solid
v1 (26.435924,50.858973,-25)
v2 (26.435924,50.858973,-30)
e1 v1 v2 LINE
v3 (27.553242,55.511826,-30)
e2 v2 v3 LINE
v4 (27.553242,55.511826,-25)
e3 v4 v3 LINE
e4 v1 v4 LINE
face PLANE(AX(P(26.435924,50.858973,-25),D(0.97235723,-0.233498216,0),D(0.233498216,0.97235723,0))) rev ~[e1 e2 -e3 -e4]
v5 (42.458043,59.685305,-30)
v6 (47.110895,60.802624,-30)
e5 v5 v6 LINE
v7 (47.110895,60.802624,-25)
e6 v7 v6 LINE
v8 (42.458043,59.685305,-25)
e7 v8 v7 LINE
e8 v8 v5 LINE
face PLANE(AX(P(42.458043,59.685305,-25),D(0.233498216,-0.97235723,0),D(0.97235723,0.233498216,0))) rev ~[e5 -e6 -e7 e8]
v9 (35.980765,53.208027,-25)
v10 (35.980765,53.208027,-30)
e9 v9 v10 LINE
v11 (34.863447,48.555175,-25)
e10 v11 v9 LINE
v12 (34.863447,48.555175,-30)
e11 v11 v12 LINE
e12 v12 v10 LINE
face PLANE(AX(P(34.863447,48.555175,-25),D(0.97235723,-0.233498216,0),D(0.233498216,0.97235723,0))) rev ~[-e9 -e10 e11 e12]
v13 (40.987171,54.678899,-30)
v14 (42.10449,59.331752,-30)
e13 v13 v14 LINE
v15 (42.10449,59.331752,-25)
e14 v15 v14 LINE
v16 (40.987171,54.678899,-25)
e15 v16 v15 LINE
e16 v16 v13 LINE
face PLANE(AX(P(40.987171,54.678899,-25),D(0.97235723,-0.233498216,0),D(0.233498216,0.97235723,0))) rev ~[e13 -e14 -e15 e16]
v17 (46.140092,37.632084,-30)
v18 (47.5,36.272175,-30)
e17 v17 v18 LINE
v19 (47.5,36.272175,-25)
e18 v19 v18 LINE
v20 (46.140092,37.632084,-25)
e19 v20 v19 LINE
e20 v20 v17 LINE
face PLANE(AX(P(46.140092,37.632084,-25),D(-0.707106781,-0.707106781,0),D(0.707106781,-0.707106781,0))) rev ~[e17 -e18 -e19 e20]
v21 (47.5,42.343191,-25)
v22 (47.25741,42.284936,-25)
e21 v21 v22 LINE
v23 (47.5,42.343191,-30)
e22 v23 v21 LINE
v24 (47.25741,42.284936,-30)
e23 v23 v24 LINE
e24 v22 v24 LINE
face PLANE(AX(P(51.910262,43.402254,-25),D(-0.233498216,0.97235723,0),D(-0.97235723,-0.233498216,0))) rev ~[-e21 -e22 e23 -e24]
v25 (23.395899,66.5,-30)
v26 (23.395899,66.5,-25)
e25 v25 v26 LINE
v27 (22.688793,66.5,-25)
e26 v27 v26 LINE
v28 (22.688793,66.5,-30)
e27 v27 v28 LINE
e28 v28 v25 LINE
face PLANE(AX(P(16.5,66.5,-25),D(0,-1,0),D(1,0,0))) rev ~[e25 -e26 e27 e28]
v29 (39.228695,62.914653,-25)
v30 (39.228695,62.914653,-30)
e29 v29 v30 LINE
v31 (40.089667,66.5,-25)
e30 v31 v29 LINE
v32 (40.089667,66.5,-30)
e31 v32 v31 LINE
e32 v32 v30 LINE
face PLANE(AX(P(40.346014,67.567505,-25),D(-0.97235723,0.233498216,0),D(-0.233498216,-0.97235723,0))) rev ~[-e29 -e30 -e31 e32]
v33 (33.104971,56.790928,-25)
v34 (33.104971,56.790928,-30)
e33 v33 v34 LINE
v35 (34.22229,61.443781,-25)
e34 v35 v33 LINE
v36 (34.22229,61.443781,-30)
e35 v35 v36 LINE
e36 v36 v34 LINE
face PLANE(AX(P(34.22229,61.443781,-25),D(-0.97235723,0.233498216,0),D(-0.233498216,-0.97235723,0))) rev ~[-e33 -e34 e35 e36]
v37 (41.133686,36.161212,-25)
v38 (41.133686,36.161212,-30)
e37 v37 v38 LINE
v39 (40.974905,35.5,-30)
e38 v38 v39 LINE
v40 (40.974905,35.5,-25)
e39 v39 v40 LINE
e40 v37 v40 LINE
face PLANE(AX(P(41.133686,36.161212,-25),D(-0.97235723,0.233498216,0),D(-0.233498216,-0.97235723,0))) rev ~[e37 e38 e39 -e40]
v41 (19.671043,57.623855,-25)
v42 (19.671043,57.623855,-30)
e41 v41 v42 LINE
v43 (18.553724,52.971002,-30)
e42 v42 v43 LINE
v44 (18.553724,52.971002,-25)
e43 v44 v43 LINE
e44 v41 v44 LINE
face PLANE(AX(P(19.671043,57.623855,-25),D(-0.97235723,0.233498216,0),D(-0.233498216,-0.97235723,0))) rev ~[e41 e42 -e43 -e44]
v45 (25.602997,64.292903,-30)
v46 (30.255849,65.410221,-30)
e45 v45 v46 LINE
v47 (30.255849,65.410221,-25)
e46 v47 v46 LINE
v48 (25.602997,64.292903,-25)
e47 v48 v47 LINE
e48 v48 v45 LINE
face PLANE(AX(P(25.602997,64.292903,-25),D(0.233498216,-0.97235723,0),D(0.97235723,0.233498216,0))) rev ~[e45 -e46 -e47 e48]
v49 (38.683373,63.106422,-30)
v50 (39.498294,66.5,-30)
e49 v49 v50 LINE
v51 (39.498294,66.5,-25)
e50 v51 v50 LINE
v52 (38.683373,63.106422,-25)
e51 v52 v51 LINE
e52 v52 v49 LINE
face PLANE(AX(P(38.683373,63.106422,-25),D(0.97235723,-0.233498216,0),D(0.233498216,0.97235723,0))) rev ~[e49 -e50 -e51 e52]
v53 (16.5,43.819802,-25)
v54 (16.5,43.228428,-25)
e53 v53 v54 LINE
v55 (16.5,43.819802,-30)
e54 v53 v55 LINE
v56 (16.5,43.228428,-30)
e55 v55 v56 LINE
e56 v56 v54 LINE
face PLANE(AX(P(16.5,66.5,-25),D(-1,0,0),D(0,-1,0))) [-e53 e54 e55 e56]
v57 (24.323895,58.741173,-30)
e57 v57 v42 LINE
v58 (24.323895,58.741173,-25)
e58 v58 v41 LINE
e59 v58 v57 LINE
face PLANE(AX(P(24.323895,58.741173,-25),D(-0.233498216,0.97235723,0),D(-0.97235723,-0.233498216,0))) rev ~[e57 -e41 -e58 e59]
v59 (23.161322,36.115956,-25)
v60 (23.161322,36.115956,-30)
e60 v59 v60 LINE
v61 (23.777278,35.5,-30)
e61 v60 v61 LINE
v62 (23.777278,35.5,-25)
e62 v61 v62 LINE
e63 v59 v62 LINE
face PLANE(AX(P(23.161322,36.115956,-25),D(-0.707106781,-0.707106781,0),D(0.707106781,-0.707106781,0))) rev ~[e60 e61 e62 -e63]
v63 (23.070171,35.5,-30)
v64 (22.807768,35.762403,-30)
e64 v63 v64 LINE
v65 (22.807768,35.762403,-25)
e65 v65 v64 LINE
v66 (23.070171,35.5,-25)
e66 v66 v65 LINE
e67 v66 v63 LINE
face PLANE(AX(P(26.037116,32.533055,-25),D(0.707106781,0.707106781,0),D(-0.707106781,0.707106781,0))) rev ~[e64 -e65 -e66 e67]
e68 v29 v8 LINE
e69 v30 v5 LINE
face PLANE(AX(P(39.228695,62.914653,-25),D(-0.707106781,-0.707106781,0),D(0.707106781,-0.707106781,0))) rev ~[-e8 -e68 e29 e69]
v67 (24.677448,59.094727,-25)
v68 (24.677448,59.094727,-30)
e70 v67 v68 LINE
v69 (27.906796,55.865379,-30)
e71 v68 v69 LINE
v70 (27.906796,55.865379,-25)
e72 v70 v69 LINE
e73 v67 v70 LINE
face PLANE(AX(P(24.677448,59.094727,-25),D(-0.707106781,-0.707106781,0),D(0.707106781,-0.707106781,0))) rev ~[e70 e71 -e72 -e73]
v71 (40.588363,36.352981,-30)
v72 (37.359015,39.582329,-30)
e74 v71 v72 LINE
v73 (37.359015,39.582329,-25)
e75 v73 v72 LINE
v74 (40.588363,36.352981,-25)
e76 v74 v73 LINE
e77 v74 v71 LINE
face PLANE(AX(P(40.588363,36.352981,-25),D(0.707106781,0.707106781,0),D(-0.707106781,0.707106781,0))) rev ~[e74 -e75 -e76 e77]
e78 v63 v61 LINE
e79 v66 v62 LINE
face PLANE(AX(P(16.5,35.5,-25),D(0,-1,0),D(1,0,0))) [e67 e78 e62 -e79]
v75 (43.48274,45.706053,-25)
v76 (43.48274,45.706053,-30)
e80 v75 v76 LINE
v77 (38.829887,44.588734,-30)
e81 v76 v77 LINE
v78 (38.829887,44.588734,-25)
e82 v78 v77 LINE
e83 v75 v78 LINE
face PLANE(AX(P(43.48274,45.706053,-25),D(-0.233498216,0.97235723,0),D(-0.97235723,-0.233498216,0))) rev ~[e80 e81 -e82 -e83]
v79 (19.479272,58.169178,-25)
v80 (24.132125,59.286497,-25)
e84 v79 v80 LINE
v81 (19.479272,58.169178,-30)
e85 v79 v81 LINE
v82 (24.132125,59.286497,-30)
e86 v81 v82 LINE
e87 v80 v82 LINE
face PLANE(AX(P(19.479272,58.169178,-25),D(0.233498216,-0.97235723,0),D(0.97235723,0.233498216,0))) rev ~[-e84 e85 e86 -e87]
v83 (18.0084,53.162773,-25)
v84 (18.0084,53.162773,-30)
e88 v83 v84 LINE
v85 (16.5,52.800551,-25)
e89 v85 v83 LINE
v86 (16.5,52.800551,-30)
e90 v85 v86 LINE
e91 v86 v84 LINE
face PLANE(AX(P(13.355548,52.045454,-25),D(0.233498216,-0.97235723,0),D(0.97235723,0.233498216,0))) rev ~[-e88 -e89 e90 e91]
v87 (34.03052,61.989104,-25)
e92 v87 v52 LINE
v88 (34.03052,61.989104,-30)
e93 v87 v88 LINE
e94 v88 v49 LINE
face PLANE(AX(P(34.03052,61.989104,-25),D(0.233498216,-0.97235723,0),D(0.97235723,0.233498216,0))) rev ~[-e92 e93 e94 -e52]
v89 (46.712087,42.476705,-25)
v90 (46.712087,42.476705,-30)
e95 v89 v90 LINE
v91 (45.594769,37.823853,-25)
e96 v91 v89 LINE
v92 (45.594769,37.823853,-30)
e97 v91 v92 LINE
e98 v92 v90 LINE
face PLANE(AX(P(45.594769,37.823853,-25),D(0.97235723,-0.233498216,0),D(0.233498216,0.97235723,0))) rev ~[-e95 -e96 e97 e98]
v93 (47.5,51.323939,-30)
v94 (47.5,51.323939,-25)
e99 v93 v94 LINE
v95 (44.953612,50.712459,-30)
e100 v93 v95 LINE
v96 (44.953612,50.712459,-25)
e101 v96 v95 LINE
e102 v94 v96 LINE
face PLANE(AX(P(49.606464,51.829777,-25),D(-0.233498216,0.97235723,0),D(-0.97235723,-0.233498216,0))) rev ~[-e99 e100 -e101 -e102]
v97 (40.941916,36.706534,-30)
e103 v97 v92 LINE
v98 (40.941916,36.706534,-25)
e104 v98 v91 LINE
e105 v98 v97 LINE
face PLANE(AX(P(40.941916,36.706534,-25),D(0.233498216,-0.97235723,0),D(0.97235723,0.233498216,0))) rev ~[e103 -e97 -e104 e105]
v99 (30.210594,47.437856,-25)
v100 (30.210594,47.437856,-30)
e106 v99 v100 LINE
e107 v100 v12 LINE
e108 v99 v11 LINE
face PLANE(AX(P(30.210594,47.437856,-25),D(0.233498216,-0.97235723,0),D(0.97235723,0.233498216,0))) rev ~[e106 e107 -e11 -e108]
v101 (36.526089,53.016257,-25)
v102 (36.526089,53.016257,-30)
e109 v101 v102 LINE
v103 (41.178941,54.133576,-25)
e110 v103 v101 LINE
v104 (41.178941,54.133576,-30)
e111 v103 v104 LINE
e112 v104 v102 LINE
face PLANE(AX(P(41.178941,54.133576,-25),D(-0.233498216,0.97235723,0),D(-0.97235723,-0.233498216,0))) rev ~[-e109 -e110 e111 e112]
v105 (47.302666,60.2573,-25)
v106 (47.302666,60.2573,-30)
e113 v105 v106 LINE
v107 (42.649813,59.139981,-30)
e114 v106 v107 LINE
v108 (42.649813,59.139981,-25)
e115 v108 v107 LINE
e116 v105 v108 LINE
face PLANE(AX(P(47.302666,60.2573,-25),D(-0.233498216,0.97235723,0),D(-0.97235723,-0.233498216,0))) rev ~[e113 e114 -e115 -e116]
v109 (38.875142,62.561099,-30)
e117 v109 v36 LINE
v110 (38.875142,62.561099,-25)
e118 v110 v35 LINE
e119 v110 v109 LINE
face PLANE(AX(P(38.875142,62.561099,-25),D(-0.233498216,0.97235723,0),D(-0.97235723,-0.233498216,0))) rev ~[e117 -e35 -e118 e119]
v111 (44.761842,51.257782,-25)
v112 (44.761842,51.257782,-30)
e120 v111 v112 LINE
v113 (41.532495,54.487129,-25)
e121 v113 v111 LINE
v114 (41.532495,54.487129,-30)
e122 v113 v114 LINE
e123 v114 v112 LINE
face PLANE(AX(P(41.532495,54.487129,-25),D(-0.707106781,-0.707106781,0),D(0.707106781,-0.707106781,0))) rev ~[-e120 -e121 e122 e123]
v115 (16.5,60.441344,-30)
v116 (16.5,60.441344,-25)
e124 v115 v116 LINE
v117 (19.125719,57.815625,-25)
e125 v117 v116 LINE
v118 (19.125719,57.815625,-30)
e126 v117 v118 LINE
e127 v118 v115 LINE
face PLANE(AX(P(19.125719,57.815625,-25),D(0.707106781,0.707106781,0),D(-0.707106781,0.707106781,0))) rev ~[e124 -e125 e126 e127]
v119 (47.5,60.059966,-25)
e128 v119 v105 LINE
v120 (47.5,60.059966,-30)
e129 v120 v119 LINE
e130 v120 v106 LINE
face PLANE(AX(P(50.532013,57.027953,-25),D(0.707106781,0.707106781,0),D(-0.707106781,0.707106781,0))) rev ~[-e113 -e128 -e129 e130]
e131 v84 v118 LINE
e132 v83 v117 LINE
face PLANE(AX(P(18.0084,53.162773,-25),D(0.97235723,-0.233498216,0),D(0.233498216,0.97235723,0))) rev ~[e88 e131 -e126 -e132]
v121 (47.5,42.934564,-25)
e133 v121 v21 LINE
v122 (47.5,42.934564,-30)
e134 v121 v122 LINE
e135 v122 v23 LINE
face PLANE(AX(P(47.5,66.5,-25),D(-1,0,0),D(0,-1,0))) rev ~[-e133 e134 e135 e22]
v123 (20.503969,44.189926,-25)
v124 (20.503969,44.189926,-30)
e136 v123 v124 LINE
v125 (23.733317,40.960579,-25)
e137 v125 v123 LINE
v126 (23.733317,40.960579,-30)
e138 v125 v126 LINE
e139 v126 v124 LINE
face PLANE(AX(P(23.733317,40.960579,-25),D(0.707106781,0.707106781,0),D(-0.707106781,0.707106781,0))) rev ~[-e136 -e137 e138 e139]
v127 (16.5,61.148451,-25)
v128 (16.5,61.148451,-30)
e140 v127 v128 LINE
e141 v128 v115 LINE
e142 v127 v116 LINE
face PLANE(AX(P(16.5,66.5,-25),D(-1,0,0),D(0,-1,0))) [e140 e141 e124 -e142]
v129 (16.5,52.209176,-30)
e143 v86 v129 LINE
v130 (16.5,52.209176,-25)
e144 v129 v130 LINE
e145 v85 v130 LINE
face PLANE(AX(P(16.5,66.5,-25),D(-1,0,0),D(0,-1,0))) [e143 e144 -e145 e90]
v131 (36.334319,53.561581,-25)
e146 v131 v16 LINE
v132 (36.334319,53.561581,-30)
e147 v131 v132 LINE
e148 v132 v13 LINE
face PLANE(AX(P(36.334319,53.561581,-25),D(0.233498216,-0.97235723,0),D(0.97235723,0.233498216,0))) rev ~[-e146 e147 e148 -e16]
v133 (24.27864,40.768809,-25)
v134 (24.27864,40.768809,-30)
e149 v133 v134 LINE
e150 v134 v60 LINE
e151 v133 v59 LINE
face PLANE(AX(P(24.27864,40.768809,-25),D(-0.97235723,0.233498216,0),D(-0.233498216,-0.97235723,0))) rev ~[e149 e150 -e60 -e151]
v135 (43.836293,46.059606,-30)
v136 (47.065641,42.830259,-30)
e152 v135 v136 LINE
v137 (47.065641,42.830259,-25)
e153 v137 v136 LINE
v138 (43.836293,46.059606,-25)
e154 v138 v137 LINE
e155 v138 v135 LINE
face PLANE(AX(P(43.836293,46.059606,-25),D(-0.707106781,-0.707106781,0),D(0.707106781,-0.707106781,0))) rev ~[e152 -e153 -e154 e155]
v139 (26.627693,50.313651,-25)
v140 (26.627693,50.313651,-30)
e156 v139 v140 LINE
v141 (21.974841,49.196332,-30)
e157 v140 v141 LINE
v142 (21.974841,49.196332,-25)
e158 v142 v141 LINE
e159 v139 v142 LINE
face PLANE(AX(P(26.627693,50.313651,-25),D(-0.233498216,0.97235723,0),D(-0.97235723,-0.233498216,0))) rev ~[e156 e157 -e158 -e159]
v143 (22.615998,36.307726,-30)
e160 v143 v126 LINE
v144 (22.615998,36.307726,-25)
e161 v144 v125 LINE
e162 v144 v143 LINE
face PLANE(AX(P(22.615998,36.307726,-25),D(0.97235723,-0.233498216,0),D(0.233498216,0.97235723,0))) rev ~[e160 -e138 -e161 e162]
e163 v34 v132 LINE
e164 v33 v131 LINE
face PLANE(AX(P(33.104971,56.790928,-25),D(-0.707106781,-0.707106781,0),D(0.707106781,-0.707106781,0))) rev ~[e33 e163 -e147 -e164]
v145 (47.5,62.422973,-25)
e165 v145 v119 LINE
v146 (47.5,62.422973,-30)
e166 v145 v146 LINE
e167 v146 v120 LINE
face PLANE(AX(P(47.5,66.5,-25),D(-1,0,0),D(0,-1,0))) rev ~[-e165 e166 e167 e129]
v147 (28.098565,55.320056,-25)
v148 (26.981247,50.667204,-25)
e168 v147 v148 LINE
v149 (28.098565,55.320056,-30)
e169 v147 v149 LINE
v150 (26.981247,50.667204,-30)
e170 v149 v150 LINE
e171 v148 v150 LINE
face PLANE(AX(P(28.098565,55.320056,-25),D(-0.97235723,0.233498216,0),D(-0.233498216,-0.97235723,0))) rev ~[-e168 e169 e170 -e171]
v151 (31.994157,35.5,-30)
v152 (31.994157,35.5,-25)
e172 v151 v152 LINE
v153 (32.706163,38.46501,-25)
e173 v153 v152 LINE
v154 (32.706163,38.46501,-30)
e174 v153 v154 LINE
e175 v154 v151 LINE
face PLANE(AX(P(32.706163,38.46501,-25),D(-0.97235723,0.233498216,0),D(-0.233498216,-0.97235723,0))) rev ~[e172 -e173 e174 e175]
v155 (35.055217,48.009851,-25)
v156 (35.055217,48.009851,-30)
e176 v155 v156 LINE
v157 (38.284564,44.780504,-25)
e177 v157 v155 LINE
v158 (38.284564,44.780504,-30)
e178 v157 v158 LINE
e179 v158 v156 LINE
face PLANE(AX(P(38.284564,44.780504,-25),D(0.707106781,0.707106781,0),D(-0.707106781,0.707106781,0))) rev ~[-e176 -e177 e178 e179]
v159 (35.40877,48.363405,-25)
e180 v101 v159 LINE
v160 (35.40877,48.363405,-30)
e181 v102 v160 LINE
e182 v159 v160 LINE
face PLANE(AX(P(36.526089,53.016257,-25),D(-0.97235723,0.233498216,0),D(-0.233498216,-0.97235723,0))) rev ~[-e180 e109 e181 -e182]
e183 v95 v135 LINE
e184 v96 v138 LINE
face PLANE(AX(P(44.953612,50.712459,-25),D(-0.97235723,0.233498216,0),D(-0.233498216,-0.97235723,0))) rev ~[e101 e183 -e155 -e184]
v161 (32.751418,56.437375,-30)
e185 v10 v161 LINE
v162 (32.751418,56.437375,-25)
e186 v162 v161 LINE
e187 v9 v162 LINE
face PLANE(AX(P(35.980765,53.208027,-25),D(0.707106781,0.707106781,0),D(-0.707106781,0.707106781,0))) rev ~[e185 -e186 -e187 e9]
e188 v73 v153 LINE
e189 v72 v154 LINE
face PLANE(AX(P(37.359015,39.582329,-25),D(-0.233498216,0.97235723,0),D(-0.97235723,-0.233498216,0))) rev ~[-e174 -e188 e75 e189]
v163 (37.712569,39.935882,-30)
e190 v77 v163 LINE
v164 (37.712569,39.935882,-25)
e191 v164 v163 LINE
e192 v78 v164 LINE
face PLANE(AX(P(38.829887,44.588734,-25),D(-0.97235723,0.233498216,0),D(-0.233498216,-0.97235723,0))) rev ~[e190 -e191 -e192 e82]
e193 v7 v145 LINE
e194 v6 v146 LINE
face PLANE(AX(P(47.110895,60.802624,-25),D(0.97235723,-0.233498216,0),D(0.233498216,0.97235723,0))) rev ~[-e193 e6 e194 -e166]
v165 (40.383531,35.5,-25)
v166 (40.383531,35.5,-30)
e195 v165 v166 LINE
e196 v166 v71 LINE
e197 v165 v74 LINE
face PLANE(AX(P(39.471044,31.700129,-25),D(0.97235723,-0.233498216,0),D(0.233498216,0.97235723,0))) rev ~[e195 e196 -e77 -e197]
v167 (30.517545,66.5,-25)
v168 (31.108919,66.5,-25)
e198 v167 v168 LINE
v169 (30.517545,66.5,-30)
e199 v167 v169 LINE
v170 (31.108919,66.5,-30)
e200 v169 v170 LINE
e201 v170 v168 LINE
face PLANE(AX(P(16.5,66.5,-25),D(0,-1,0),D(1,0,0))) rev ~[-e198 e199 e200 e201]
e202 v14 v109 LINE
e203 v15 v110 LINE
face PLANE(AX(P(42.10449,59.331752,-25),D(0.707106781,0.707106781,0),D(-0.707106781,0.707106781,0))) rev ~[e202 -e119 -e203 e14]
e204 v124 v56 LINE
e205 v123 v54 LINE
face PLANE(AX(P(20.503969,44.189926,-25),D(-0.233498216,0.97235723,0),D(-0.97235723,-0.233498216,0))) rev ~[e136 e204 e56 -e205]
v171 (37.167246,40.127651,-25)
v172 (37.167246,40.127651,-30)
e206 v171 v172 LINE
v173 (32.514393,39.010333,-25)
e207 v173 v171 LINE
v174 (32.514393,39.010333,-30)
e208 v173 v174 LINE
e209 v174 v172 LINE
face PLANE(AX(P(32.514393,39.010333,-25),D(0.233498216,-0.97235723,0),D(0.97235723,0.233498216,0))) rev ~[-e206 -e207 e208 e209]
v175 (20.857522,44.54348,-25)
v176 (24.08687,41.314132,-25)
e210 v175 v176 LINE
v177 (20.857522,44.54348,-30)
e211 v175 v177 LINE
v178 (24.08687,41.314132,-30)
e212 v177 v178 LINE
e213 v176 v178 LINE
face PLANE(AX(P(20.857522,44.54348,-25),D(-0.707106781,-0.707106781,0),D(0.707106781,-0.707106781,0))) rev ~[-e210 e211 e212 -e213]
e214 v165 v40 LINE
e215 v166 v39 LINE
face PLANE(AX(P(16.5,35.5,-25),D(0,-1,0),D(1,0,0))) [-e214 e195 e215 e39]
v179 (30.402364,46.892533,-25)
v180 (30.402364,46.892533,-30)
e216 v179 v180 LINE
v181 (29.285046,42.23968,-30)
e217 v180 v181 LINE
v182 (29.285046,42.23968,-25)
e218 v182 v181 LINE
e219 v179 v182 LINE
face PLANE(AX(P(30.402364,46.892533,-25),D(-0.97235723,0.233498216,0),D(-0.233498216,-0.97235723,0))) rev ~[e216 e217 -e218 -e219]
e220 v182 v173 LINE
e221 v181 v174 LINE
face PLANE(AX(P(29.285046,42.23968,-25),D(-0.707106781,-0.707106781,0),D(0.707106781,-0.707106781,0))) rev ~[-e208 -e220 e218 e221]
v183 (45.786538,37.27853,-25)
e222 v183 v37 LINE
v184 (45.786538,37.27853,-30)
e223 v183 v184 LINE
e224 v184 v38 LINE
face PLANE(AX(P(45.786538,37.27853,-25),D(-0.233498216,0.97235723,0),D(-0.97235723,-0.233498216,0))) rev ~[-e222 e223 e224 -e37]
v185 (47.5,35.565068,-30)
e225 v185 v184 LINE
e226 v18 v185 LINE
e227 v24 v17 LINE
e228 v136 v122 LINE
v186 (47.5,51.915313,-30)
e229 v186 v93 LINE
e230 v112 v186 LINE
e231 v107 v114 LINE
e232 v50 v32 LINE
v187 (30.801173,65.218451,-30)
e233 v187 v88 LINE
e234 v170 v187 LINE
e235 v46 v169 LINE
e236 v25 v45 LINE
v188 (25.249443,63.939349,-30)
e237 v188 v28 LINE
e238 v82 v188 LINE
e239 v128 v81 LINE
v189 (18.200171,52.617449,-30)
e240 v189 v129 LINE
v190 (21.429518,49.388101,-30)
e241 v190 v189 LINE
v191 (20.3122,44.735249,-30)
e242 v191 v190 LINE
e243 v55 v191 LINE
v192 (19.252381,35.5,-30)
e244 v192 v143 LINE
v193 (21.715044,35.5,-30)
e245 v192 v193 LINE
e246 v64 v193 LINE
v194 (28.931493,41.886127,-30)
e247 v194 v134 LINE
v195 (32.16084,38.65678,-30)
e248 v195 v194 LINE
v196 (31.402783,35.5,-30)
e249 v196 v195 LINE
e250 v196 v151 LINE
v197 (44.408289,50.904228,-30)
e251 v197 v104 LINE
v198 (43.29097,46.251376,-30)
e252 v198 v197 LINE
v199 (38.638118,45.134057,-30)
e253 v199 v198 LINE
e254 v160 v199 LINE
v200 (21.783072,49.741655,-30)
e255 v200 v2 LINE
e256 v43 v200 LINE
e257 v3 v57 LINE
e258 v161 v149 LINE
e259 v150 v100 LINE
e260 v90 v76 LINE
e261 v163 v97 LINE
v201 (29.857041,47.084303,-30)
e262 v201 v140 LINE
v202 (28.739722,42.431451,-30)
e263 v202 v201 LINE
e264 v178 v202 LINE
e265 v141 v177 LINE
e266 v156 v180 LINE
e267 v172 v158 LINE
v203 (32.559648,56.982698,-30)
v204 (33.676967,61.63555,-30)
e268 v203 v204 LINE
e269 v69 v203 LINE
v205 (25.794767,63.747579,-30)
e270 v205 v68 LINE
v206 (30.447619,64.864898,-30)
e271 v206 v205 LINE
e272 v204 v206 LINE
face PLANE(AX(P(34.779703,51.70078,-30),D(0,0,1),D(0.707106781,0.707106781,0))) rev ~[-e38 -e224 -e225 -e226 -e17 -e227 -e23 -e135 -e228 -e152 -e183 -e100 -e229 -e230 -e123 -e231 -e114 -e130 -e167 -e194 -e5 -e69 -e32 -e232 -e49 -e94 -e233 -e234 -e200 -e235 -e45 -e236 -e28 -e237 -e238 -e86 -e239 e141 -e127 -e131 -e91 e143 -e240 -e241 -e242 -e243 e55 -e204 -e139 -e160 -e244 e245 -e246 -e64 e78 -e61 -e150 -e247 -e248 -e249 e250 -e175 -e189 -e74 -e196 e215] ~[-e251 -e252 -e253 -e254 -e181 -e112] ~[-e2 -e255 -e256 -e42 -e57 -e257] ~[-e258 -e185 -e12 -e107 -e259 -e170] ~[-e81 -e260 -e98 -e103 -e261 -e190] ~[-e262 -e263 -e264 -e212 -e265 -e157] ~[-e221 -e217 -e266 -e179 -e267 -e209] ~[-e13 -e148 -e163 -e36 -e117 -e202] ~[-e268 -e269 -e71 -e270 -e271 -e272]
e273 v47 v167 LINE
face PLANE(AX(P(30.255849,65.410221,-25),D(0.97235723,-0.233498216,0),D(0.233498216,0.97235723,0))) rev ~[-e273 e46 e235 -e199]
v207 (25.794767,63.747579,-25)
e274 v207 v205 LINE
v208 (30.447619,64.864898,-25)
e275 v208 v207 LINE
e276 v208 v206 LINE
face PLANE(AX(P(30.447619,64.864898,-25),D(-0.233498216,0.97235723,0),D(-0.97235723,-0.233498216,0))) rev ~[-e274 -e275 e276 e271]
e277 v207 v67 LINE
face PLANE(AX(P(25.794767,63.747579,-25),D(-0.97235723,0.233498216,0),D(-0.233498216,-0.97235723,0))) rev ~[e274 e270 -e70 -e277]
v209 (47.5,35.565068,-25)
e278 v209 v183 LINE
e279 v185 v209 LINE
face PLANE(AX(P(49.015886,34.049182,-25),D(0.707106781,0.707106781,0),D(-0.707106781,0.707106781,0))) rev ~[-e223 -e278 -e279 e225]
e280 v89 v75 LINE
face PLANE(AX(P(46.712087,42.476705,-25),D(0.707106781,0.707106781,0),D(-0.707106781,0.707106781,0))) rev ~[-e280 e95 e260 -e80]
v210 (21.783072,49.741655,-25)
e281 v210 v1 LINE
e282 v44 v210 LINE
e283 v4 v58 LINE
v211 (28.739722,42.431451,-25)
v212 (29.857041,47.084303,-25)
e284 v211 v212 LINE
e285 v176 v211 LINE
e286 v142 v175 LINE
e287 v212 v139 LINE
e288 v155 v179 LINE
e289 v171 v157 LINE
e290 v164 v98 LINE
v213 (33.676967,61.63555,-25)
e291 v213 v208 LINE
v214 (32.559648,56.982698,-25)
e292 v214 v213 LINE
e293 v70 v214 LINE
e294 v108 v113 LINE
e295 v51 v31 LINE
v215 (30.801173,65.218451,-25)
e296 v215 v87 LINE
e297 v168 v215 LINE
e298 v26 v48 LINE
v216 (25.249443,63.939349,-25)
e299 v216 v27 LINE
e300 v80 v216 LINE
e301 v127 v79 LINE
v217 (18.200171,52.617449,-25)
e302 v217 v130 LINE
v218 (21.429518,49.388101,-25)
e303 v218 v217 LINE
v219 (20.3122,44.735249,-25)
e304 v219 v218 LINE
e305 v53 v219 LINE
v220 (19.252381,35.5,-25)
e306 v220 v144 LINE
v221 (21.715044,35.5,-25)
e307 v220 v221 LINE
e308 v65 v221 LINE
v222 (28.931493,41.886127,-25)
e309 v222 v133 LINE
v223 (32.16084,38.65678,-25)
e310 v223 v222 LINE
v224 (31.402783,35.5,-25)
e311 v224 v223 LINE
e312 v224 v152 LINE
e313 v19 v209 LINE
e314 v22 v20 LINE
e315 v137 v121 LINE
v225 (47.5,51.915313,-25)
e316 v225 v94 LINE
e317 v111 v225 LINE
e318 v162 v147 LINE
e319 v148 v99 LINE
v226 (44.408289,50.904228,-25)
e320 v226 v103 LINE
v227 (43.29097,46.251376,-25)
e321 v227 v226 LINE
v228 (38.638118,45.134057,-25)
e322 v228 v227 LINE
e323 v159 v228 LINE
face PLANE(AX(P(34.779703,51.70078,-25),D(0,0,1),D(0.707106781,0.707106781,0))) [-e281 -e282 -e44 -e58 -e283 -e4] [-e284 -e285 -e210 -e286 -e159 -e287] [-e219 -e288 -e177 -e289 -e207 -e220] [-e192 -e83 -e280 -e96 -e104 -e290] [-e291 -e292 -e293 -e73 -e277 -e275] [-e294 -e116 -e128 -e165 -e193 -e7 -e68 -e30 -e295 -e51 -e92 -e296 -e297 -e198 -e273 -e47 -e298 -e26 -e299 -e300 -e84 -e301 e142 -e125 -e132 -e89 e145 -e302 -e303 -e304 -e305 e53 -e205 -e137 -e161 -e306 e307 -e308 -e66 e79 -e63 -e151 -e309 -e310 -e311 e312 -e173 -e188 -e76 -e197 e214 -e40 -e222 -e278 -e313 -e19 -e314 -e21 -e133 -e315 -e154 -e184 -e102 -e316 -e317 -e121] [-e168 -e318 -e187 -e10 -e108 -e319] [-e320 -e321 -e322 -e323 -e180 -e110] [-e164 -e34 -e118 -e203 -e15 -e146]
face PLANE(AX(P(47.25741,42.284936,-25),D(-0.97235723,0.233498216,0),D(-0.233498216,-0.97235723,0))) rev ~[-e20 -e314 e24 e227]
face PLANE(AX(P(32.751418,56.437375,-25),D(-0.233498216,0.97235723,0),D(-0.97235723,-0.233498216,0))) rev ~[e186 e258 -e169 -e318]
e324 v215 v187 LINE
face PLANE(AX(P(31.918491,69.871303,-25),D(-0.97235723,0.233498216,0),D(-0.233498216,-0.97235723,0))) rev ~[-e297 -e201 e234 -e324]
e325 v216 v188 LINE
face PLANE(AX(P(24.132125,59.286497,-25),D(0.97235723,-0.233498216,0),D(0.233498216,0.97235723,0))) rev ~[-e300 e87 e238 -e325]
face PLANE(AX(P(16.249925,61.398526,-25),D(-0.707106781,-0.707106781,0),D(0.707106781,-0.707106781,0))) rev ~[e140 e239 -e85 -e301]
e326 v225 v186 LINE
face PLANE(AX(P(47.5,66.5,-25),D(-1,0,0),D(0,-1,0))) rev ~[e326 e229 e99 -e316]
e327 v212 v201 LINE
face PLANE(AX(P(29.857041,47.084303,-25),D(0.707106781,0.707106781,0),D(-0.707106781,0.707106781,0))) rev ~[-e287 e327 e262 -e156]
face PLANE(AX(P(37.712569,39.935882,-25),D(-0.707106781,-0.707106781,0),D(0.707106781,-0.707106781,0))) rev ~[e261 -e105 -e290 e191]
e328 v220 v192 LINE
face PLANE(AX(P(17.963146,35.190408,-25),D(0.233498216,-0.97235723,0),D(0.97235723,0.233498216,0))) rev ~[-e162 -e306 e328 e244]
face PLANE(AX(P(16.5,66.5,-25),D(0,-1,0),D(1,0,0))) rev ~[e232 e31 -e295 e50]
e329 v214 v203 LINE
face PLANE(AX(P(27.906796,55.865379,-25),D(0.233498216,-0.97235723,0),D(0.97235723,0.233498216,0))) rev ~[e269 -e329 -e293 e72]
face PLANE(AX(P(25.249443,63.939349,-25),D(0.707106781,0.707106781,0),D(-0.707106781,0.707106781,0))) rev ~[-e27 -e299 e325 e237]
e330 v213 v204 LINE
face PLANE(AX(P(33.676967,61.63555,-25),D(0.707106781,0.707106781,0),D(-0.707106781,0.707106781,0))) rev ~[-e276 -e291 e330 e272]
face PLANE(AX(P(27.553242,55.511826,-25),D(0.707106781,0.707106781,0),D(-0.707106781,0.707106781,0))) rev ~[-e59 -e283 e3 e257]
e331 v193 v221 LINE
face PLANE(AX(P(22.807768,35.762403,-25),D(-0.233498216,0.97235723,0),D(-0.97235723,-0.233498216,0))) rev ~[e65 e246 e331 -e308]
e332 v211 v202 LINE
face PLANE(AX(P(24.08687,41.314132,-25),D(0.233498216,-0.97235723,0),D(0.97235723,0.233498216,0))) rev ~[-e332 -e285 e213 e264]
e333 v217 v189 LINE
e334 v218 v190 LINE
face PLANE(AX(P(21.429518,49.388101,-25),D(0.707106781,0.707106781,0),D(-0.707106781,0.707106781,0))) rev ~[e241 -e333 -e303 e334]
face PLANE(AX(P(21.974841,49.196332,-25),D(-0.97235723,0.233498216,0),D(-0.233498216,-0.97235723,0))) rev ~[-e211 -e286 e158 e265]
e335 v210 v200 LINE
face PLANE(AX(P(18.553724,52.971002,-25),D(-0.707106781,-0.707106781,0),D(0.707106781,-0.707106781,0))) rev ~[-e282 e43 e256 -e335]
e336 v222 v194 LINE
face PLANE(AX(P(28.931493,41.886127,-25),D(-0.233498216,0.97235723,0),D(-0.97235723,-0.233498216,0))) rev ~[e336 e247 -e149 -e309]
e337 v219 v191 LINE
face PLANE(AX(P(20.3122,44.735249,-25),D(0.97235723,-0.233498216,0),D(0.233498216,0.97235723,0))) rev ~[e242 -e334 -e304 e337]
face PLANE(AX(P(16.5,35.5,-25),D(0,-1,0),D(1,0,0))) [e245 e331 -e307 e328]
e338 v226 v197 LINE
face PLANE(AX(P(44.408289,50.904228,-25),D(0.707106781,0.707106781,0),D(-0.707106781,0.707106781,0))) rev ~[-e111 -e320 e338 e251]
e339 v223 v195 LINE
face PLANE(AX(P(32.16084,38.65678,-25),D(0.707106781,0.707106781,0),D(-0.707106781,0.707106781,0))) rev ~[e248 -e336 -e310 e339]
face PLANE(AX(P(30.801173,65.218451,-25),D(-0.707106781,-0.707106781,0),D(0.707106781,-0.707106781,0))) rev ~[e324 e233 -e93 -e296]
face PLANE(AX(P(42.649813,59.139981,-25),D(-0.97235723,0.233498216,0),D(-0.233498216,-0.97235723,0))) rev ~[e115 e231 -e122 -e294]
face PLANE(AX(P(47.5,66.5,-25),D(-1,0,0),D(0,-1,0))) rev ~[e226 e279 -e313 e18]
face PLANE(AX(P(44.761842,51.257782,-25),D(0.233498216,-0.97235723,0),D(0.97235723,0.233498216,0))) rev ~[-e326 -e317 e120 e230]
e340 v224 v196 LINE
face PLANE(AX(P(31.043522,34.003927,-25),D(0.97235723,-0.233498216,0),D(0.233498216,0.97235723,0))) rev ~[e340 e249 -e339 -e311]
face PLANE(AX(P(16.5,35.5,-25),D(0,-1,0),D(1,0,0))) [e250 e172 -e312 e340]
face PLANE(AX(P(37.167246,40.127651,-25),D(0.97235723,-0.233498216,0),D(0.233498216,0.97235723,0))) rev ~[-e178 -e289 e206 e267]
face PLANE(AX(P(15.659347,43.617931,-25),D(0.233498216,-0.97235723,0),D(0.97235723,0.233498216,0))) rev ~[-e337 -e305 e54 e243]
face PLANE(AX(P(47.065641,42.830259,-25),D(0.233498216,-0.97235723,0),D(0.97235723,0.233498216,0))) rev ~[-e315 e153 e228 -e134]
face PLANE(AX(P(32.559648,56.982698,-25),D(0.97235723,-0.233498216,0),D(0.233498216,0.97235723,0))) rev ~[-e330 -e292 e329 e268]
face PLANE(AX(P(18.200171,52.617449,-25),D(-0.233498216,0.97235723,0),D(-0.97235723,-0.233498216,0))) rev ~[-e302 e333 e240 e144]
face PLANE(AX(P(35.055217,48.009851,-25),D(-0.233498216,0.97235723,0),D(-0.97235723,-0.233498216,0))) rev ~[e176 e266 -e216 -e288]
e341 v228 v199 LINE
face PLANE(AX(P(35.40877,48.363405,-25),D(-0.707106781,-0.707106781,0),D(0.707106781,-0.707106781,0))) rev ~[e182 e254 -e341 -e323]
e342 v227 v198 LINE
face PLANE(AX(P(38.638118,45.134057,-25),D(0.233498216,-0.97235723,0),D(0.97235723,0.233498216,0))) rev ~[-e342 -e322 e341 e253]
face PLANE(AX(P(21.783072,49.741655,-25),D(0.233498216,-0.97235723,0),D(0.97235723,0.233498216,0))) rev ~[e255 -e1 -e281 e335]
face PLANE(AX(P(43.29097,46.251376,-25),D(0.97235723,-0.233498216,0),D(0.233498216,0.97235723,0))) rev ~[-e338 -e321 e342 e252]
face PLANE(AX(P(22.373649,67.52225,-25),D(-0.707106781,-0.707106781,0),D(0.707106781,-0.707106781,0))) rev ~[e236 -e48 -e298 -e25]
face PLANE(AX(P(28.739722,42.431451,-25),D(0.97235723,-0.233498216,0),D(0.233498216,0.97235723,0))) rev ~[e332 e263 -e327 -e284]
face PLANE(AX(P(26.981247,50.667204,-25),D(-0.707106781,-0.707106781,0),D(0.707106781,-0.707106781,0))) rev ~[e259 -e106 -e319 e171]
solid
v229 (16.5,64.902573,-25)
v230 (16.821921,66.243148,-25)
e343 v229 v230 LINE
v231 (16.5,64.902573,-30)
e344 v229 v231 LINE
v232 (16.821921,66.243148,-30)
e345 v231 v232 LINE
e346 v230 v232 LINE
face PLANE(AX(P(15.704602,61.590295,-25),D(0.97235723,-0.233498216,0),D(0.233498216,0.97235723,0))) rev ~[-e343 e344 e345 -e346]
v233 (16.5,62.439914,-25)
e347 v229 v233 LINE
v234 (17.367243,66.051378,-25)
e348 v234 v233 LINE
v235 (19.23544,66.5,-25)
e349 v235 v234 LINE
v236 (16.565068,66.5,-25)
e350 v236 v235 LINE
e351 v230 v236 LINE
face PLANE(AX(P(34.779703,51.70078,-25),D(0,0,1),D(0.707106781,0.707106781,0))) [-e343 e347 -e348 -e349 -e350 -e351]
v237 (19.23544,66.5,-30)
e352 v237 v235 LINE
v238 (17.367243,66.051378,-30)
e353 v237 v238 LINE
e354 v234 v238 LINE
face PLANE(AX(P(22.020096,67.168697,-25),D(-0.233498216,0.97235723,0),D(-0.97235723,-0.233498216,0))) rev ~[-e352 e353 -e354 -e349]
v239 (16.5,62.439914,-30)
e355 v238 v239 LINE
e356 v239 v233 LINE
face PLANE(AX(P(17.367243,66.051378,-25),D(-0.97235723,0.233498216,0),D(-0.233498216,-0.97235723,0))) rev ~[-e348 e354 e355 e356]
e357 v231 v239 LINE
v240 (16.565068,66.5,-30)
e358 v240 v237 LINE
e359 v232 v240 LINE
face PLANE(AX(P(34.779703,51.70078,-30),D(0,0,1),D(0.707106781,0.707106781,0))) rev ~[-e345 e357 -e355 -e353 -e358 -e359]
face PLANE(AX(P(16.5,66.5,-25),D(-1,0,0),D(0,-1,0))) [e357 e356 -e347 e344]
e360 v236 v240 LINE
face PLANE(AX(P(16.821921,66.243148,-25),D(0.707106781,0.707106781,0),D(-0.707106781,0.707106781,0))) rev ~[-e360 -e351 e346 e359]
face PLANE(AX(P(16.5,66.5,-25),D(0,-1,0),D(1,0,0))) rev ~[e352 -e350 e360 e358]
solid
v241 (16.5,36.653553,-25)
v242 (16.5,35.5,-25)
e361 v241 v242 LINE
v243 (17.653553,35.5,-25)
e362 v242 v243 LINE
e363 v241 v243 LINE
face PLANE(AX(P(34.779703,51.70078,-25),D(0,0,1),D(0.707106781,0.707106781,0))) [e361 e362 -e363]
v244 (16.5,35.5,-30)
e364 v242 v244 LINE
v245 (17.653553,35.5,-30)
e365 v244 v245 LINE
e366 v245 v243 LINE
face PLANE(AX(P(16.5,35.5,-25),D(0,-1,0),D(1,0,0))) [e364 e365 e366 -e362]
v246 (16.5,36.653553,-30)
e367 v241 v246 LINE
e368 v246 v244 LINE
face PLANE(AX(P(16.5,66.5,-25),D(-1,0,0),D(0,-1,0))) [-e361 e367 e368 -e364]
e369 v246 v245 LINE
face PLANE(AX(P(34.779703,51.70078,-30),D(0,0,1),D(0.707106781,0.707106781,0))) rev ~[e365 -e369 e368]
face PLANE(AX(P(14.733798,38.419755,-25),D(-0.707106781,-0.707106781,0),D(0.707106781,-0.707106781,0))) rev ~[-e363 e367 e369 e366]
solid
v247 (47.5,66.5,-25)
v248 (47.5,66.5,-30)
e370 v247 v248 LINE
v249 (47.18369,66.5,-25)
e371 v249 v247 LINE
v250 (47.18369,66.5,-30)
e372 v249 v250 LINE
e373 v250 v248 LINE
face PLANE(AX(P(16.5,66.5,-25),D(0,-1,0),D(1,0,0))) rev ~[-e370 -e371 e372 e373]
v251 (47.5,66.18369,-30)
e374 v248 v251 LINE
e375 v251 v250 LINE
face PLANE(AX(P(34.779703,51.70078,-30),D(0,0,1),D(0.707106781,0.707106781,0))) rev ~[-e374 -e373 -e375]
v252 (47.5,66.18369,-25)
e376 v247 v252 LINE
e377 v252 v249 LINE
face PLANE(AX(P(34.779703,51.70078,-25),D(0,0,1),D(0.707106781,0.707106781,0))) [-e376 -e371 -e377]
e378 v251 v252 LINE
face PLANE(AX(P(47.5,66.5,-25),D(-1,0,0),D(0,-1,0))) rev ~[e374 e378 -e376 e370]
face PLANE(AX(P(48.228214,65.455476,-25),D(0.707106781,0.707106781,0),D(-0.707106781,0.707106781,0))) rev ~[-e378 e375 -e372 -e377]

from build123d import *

# Parameters (mm, degrees)
SKETCH120_W                                   = 31
SKETCH120_H                                   = 31
EXTRUDE109_DEPTH                              = 5
GRIDSKETCH002_AS_DRAWN_W                      = 56.791651
GRIDSKETCH002_AS_DRAWN_H                      = 81.381905
EXTRUDE084_DEPTH                              = 5
EXTRUDE084_ONTO_GRIDSKETCH002_PLACEMENT_ANGLE = 45


with BuildPart() as extrude109:
    # Sketch120 → Extrude109 (new body)
    with BuildSketch(Plane(origin=(0, 0, -25), x_dir=(1, 0, 0), z_dir=(0, 0, -1))):
        with Locations((32, -51)):
            Rectangle(SKETCH120_W, SKETCH120_H)
    extrude(amount=EXTRUDE109_DEPTH)


with BuildPart() as common004:
    # gridsketch002 as drawn → Extrude084 (new)
    with BuildSketch(Plane.XY):
        with Locations((23.815698, 35.440953)):
            Rectangle(GRIDSKETCH002_AS_DRAWN_W, GRIDSKETCH002_AS_DRAWN_H)
        Polygon((0, 4.783494), (-4.080127, 2.283494), (-4.080127, -2.283494), (0, -4.783494), (4.080127, -2.283494), (4.080127, 2.283494), align=None, mode=Mode.SUBTRACT)
        Polygon((8.660254, 4.783494), (4.580127, 2.283494), (4.580127, -2.283494), (8.660254, -4.783494), (12.740381, -2.283494), (12.740381, 2.283494), align=None, mode=Mode.SUBTRACT)
        Polygon((17.320508, 4.783494), (13.240381, 2.283494), (13.240381, -2.283494), (17.320508, -4.783494), (21.400635, -2.283494), (21.400635, 2.283494), align=None, mode=Mode.SUBTRACT)
        Polygon((25.980762, 4.783494), (21.900635, 2.283494), (21.900635, -2.283494), (25.980762, -4.783494), (30.060889, -2.283494), (30.060889, 2.283494), align=None, mode=Mode.SUBTRACT)
        Polygon((34.641016, 4.783494), (30.560889, 2.283494), (30.560889, -2.283494), (34.641016, -4.783494), (38.721143, -2.283494), (38.721143, 2.283494), align=None, mode=Mode.SUBTRACT)
        Polygon((43.30127, 4.783494), (39.221143, 2.283494), (39.221143, -2.283494), (43.30127, -4.783494), (47.381397, -2.283494), (47.381397, 2.283494), align=None, mode=Mode.SUBTRACT)
        Polygon((4.330127, 12.371684), (0.25, 9.871684), (0.25, 5.304697), (4.330127, 2.804697), (8.410254, 5.304697), (8.410254, 9.871684), align=None, mode=Mode.SUBTRACT)
        Polygon((12.990381, 12.371684), (8.910254, 9.871684), (8.910254, 5.304697), (12.990381, 2.804697), (17.070508, 5.304697), (17.070508, 9.871684), align=None, mode=Mode.SUBTRACT)
        Polygon((21.650635, 12.371684), (17.570508, 9.871684), (17.570508, 5.304697), (21.650635, 2.804697), (25.730762, 5.304697), (25.730762, 9.871684), align=None, mode=Mode.SUBTRACT)
        Polygon((30.310889, 12.371684), (26.230762, 9.871684), (26.230762, 5.304697), (30.310889, 2.804697), (34.391016, 5.304697), (34.391016, 9.871684), align=None, mode=Mode.SUBTRACT)
        Polygon((38.971143, 12.371684), (34.891016, 9.871684), (34.891016, 5.304697), (38.971143, 2.804697), (43.05127, 5.304697), (43.05127, 9.871684), align=None, mode=Mode.SUBTRACT)
        Polygon((47.631397, 12.371684), (43.55127, 9.871684), (43.55127, 5.304697), (47.631397, 2.804697), (51.711524, 5.304697), (51.711524, 9.871684), align=None, mode=Mode.SUBTRACT)
        Polygon((0, 19.959875), (-4.080127, 17.459875), (-4.080127, 12.892887), (0, 10.392887), (4.080127, 12.892887), (4.080127, 17.459875), align=None, mode=Mode.SUBTRACT)
        Polygon((8.660254, 19.959875), (4.580127, 17.459875), (4.580127, 12.892887), (8.660254, 10.392887), (12.740381, 12.892887), (12.740381, 17.459875), align=None, mode=Mode.SUBTRACT)
        Polygon((17.320508, 19.959875), (13.240381, 17.459875), (13.240381, 12.892887), (17.320508, 10.392887), (21.400635, 12.892887), (21.400635, 17.459875), align=None, mode=Mode.SUBTRACT)
        Polygon((25.980762, 19.959875), (21.900635, 17.459875), (21.900635, 12.892887), (25.980762, 10.392887), (30.060889, 12.892887), (30.060889, 17.459875), align=None, mode=Mode.SUBTRACT)
        Polygon((34.641016, 19.959875), (30.560889, 17.459875), (30.560889, 12.892887), (34.641016, 10.392887), (38.721143, 12.892887), (38.721143, 17.459875), align=None, mode=Mode.SUBTRACT)
        Polygon((43.30127, 19.959875), (39.221143, 17.459875), (39.221143, 12.892887), (43.30127, 10.392887), (47.381397, 12.892887), (47.381397, 17.459875), align=None, mode=Mode.SUBTRACT)
        Polygon((4.330127, 27.548065), (0.25, 25.048065), (0.25, 20.481078), (4.330127, 17.981078), (8.410254, 20.481078), (8.410254, 25.048065), align=None, mode=Mode.SUBTRACT)
        Polygon((12.990381, 27.548065), (8.910254, 25.048065), (8.910254, 20.481078), (12.990381, 17.981078), (17.070508, 20.481078), (17.070508, 25.048065), align=None, mode=Mode.SUBTRACT)
        Polygon((21.650635, 27.548065), (17.570508, 25.048065), (17.570508, 20.481078), (21.650635, 17.981078), (25.730762, 20.481078), (25.730762, 25.048065), align=None, mode=Mode.SUBTRACT)
        Polygon((30.310889, 27.548065), (26.230762, 25.048065), (26.230762, 20.481078), (30.310889, 17.981078), (34.391016, 20.481078), (34.391016, 25.048065), align=None, mode=Mode.SUBTRACT)
        Polygon((38.971143, 27.548065), (34.891016, 25.048065), (34.891016, 20.481078), (38.971143, 17.981078), (43.05127, 20.481078), (43.05127, 25.048065), align=None, mode=Mode.SUBTRACT)
        Polygon((47.631397, 27.548065), (43.55127, 25.048065), (43.55127, 20.481078), (47.631397, 17.981078), (51.711524, 20.481078), (51.711524, 25.048065), align=None, mode=Mode.SUBTRACT)
        Polygon((0, 35.136255), (-4.080127, 32.636255), (-4.080127, 28.069268), (0, 25.569268), (4.080127, 28.069268), (4.080127, 32.636255), align=None, mode=Mode.SUBTRACT)
        Polygon((8.660254, 35.136255), (4.580127, 32.636255), (4.580127, 28.069268), (8.660254, 25.569268), (12.740381, 28.069268), (12.740381, 32.636255), align=None, mode=Mode.SUBTRACT)
        Polygon((17.320508, 35.136255), (13.240381, 32.636255), (13.240381, 28.069268), (17.320508, 25.569268), (21.400635, 28.069268), (21.400635, 32.636255), align=None, mode=Mode.SUBTRACT)
        Polygon((25.980762, 35.136255), (21.900635, 32.636255), (21.900635, 28.069268), (25.980762, 25.569268), (30.060889, 28.069268), (30.060889, 32.636255), align=None, mode=Mode.SUBTRACT)
        Polygon((34.641016, 35.136255), (30.560889, 32.636255), (30.560889, 28.069268), (34.641016, 25.569268), (38.721143, 28.069268), (38.721143, 32.636255), align=None, mode=Mode.SUBTRACT)
        Polygon((43.30127, 35.136255), (39.221143, 32.636255), (39.221143, 28.069268), (43.30127, 25.569268), (47.381397, 28.069268), (47.381397, 32.636255), align=None, mode=Mode.SUBTRACT)
        Polygon((4.330127, 42.724446), (0.25, 40.224446), (0.25, 35.657459), (4.330127, 33.157459), (8.410254, 35.657459), (8.410254, 40.224446), align=None, mode=Mode.SUBTRACT)
        Polygon((12.990381, 42.724446), (8.910254, 40.224446), (8.910254, 35.657459), (12.990381, 33.157459), (17.070508, 35.657459), (17.070508, 40.224446), align=None, mode=Mode.SUBTRACT)
        Polygon((21.650635, 42.724446), (17.570508, 40.224446), (17.570508, 35.657459), (21.650635, 33.157459), (25.730762, 35.657459), (25.730762, 40.224446), align=None, mode=Mode.SUBTRACT)
        Polygon((30.310889, 42.724446), (26.230762, 40.224446), (26.230762, 35.657459), (30.310889, 33.157459), (34.391016, 35.657459), (34.391016, 40.224446), align=None, mode=Mode.SUBTRACT)
        Polygon((38.971143, 42.724446), (34.891016, 40.224446), (34.891016, 35.657459), (38.971143, 33.157459), (43.05127, 35.657459), (43.05127, 40.224446), align=None, mode=Mode.SUBTRACT)
        Polygon((47.631397, 42.724446), (43.55127, 40.224446), (43.55127, 35.657459), (47.631397, 33.157459), (51.711524, 35.657459), (51.711524, 40.224446), align=None, mode=Mode.SUBTRACT)
        Polygon((0, 50.312636), (-4.080127, 47.812636), (-4.080127, 43.245649), (0, 40.745649), (4.080127, 43.245649), (4.080127, 47.812636), align=None, mode=Mode.SUBTRACT)
        Polygon((8.660254, 50.312636), (4.580127, 47.812636), (4.580127, 43.245649), (8.660254, 40.745649), (12.740381, 43.245649), (12.740381, 47.812636), align=None, mode=Mode.SUBTRACT)
        Polygon((17.320508, 50.312636), (13.240381, 47.812636), (13.240381, 43.245649), (17.320508, 40.745649), (21.400635, 43.245649), (21.400635, 47.812636), align=None, mode=Mode.SUBTRACT)
        Polygon((25.980762, 50.312636), (21.900635, 47.812636), (21.900635, 43.245649), (25.980762, 40.745649), (30.060889, 43.245649), (30.060889, 47.812636), align=None, mode=Mode.SUBTRACT)
        Polygon((34.641016, 50.312636), (30.560889, 47.812636), (30.560889, 43.245649), (34.641016, 40.745649), (38.721143, 43.245649), (38.721143, 47.812636), align=None, mode=Mode.SUBTRACT)
        Polygon((43.30127, 50.312636), (39.221143, 47.812636), (39.221143, 43.245649), (43.30127, 40.745649), (47.381397, 43.245649), (47.381397, 47.812636), align=None, mode=Mode.SUBTRACT)
        Polygon((4.330127, 57.900827), (0.25, 55.400827), (0.25, 50.83384), (4.330127, 48.33384), (8.410254, 50.83384), (8.410254, 55.400827), align=None, mode=Mode.SUBTRACT)
        Polygon((12.990381, 57.900827), (8.910254, 55.400827), (8.910254, 50.83384), (12.990381, 48.33384), (17.070508, 50.83384), (17.070508, 55.400827), align=None, mode=Mode.SUBTRACT)
        Polygon((21.650635, 57.900827), (17.570508, 55.400827), (17.570508, 50.83384), (21.650635, 48.33384), (25.730762, 50.83384), (25.730762, 55.400827), align=None, mode=Mode.SUBTRACT)
        Polygon((30.310889, 57.900827), (26.230762, 55.400827), (26.230762, 50.83384), (30.310889, 48.33384), (34.391016, 50.83384), (34.391016, 55.400827), align=None, mode=Mode.SUBTRACT)
        Polygon((38.971143, 57.900827), (34.891016, 55.400827), (34.891016, 50.83384), (38.971143, 48.33384), (43.05127, 50.83384), (43.05127, 55.400827), align=None, mode=Mode.SUBTRACT)
        Polygon((47.631397, 57.900827), (43.55127, 55.400827), (43.55127, 50.83384), (47.631397, 48.33384), (51.711524, 50.83384), (51.711524, 55.400827), align=None, mode=Mode.SUBTRACT)
        Polygon((0, 65.489017), (-4.080127, 62.989017), (-4.080127, 58.42203), (0, 55.92203), (4.080127, 58.42203), (4.080127, 62.989017), align=None, mode=Mode.SUBTRACT)
        Polygon((8.660254, 65.489017), (4.580127, 62.989017), (4.580127, 58.42203), (8.660254, 55.92203), (12.740381, 58.42203), (12.740381, 62.989017), align=None, mode=Mode.SUBTRACT)
        Polygon((17.320508, 65.489017), (13.240381, 62.989017), (13.240381, 58.42203), (17.320508, 55.92203), (21.400635, 58.42203), (21.400635, 62.989017), align=None, mode=Mode.SUBTRACT)
        Polygon((25.980762, 65.489017), (21.900635, 62.989017), (21.900635, 58.42203), (25.980762, 55.92203), (30.060889, 58.42203), (30.060889, 62.989017), align=None, mode=Mode.SUBTRACT)
        Polygon((34.641016, 65.489017), (30.560889, 62.989017), (30.560889, 58.42203), (34.641016, 55.92203), (38.721143, 58.42203), (38.721143, 62.989017), align=None, mode=Mode.SUBTRACT)
        Polygon((43.30127, 65.489017), (39.221143, 62.989017), (39.221143, 58.42203), (43.30127, 55.92203), (47.381397, 58.42203), (47.381397, 62.989017), align=None, mode=Mode.SUBTRACT)
        Polygon((4.330127, 73.077208), (0.25, 70.577208), (0.25, 66.01022), (4.330127, 63.51022), (8.410254, 66.01022), (8.410254, 70.577208), align=None, mode=Mode.SUBTRACT)
        Polygon((12.990381, 73.077208), (8.910254, 70.577208), (8.910254, 66.01022), (12.990381, 63.51022), (17.070508, 66.01022), (17.070508, 70.577208), align=None, mode=Mode.SUBTRACT)
        Polygon((21.650635, 73.077208), (17.570508, 70.577208), (17.570508, 66.01022), (21.650635, 63.51022), (25.730762, 66.01022), (25.730762, 70.577208), align=None, mode=Mode.SUBTRACT)
        Polygon((30.310889, 73.077208), (26.230762, 70.577208), (26.230762, 66.01022), (30.310889, 63.51022), (34.391016, 66.01022), (34.391016, 70.577208), align=None, mode=Mode.SUBTRACT)
        Polygon((38.971143, 73.077208), (34.891016, 70.577208), (34.891016, 66.01022), (38.971143, 63.51022), (43.05127, 66.01022), (43.05127, 70.577208), align=None, mode=Mode.SUBTRACT)
        Polygon((47.631397, 73.077208), (43.55127, 70.577208), (43.55127, 66.01022), (47.631397, 63.51022), (51.711524, 66.01022), (51.711524, 70.577208), align=None, mode=Mode.SUBTRACT)
    extrude(amount=-EXTRUDE084_DEPTH)


with BuildPart() as common004_1:
    # Extrude084 onto gridsketch002 placement: moved
    add(common004.part.moved(Location((43, 9.8, -25))).rotate(Axis((43, 9.8, -25), (0, 0, 1)), EXTRUDE084_ONTO_GRIDSKETCH002_PLACEMENT_ANGLE))

    # Common004: intersect Extrude109
    add(extrude109.part, mode=Mode.INTERSECT)


solid = common004_1.part
